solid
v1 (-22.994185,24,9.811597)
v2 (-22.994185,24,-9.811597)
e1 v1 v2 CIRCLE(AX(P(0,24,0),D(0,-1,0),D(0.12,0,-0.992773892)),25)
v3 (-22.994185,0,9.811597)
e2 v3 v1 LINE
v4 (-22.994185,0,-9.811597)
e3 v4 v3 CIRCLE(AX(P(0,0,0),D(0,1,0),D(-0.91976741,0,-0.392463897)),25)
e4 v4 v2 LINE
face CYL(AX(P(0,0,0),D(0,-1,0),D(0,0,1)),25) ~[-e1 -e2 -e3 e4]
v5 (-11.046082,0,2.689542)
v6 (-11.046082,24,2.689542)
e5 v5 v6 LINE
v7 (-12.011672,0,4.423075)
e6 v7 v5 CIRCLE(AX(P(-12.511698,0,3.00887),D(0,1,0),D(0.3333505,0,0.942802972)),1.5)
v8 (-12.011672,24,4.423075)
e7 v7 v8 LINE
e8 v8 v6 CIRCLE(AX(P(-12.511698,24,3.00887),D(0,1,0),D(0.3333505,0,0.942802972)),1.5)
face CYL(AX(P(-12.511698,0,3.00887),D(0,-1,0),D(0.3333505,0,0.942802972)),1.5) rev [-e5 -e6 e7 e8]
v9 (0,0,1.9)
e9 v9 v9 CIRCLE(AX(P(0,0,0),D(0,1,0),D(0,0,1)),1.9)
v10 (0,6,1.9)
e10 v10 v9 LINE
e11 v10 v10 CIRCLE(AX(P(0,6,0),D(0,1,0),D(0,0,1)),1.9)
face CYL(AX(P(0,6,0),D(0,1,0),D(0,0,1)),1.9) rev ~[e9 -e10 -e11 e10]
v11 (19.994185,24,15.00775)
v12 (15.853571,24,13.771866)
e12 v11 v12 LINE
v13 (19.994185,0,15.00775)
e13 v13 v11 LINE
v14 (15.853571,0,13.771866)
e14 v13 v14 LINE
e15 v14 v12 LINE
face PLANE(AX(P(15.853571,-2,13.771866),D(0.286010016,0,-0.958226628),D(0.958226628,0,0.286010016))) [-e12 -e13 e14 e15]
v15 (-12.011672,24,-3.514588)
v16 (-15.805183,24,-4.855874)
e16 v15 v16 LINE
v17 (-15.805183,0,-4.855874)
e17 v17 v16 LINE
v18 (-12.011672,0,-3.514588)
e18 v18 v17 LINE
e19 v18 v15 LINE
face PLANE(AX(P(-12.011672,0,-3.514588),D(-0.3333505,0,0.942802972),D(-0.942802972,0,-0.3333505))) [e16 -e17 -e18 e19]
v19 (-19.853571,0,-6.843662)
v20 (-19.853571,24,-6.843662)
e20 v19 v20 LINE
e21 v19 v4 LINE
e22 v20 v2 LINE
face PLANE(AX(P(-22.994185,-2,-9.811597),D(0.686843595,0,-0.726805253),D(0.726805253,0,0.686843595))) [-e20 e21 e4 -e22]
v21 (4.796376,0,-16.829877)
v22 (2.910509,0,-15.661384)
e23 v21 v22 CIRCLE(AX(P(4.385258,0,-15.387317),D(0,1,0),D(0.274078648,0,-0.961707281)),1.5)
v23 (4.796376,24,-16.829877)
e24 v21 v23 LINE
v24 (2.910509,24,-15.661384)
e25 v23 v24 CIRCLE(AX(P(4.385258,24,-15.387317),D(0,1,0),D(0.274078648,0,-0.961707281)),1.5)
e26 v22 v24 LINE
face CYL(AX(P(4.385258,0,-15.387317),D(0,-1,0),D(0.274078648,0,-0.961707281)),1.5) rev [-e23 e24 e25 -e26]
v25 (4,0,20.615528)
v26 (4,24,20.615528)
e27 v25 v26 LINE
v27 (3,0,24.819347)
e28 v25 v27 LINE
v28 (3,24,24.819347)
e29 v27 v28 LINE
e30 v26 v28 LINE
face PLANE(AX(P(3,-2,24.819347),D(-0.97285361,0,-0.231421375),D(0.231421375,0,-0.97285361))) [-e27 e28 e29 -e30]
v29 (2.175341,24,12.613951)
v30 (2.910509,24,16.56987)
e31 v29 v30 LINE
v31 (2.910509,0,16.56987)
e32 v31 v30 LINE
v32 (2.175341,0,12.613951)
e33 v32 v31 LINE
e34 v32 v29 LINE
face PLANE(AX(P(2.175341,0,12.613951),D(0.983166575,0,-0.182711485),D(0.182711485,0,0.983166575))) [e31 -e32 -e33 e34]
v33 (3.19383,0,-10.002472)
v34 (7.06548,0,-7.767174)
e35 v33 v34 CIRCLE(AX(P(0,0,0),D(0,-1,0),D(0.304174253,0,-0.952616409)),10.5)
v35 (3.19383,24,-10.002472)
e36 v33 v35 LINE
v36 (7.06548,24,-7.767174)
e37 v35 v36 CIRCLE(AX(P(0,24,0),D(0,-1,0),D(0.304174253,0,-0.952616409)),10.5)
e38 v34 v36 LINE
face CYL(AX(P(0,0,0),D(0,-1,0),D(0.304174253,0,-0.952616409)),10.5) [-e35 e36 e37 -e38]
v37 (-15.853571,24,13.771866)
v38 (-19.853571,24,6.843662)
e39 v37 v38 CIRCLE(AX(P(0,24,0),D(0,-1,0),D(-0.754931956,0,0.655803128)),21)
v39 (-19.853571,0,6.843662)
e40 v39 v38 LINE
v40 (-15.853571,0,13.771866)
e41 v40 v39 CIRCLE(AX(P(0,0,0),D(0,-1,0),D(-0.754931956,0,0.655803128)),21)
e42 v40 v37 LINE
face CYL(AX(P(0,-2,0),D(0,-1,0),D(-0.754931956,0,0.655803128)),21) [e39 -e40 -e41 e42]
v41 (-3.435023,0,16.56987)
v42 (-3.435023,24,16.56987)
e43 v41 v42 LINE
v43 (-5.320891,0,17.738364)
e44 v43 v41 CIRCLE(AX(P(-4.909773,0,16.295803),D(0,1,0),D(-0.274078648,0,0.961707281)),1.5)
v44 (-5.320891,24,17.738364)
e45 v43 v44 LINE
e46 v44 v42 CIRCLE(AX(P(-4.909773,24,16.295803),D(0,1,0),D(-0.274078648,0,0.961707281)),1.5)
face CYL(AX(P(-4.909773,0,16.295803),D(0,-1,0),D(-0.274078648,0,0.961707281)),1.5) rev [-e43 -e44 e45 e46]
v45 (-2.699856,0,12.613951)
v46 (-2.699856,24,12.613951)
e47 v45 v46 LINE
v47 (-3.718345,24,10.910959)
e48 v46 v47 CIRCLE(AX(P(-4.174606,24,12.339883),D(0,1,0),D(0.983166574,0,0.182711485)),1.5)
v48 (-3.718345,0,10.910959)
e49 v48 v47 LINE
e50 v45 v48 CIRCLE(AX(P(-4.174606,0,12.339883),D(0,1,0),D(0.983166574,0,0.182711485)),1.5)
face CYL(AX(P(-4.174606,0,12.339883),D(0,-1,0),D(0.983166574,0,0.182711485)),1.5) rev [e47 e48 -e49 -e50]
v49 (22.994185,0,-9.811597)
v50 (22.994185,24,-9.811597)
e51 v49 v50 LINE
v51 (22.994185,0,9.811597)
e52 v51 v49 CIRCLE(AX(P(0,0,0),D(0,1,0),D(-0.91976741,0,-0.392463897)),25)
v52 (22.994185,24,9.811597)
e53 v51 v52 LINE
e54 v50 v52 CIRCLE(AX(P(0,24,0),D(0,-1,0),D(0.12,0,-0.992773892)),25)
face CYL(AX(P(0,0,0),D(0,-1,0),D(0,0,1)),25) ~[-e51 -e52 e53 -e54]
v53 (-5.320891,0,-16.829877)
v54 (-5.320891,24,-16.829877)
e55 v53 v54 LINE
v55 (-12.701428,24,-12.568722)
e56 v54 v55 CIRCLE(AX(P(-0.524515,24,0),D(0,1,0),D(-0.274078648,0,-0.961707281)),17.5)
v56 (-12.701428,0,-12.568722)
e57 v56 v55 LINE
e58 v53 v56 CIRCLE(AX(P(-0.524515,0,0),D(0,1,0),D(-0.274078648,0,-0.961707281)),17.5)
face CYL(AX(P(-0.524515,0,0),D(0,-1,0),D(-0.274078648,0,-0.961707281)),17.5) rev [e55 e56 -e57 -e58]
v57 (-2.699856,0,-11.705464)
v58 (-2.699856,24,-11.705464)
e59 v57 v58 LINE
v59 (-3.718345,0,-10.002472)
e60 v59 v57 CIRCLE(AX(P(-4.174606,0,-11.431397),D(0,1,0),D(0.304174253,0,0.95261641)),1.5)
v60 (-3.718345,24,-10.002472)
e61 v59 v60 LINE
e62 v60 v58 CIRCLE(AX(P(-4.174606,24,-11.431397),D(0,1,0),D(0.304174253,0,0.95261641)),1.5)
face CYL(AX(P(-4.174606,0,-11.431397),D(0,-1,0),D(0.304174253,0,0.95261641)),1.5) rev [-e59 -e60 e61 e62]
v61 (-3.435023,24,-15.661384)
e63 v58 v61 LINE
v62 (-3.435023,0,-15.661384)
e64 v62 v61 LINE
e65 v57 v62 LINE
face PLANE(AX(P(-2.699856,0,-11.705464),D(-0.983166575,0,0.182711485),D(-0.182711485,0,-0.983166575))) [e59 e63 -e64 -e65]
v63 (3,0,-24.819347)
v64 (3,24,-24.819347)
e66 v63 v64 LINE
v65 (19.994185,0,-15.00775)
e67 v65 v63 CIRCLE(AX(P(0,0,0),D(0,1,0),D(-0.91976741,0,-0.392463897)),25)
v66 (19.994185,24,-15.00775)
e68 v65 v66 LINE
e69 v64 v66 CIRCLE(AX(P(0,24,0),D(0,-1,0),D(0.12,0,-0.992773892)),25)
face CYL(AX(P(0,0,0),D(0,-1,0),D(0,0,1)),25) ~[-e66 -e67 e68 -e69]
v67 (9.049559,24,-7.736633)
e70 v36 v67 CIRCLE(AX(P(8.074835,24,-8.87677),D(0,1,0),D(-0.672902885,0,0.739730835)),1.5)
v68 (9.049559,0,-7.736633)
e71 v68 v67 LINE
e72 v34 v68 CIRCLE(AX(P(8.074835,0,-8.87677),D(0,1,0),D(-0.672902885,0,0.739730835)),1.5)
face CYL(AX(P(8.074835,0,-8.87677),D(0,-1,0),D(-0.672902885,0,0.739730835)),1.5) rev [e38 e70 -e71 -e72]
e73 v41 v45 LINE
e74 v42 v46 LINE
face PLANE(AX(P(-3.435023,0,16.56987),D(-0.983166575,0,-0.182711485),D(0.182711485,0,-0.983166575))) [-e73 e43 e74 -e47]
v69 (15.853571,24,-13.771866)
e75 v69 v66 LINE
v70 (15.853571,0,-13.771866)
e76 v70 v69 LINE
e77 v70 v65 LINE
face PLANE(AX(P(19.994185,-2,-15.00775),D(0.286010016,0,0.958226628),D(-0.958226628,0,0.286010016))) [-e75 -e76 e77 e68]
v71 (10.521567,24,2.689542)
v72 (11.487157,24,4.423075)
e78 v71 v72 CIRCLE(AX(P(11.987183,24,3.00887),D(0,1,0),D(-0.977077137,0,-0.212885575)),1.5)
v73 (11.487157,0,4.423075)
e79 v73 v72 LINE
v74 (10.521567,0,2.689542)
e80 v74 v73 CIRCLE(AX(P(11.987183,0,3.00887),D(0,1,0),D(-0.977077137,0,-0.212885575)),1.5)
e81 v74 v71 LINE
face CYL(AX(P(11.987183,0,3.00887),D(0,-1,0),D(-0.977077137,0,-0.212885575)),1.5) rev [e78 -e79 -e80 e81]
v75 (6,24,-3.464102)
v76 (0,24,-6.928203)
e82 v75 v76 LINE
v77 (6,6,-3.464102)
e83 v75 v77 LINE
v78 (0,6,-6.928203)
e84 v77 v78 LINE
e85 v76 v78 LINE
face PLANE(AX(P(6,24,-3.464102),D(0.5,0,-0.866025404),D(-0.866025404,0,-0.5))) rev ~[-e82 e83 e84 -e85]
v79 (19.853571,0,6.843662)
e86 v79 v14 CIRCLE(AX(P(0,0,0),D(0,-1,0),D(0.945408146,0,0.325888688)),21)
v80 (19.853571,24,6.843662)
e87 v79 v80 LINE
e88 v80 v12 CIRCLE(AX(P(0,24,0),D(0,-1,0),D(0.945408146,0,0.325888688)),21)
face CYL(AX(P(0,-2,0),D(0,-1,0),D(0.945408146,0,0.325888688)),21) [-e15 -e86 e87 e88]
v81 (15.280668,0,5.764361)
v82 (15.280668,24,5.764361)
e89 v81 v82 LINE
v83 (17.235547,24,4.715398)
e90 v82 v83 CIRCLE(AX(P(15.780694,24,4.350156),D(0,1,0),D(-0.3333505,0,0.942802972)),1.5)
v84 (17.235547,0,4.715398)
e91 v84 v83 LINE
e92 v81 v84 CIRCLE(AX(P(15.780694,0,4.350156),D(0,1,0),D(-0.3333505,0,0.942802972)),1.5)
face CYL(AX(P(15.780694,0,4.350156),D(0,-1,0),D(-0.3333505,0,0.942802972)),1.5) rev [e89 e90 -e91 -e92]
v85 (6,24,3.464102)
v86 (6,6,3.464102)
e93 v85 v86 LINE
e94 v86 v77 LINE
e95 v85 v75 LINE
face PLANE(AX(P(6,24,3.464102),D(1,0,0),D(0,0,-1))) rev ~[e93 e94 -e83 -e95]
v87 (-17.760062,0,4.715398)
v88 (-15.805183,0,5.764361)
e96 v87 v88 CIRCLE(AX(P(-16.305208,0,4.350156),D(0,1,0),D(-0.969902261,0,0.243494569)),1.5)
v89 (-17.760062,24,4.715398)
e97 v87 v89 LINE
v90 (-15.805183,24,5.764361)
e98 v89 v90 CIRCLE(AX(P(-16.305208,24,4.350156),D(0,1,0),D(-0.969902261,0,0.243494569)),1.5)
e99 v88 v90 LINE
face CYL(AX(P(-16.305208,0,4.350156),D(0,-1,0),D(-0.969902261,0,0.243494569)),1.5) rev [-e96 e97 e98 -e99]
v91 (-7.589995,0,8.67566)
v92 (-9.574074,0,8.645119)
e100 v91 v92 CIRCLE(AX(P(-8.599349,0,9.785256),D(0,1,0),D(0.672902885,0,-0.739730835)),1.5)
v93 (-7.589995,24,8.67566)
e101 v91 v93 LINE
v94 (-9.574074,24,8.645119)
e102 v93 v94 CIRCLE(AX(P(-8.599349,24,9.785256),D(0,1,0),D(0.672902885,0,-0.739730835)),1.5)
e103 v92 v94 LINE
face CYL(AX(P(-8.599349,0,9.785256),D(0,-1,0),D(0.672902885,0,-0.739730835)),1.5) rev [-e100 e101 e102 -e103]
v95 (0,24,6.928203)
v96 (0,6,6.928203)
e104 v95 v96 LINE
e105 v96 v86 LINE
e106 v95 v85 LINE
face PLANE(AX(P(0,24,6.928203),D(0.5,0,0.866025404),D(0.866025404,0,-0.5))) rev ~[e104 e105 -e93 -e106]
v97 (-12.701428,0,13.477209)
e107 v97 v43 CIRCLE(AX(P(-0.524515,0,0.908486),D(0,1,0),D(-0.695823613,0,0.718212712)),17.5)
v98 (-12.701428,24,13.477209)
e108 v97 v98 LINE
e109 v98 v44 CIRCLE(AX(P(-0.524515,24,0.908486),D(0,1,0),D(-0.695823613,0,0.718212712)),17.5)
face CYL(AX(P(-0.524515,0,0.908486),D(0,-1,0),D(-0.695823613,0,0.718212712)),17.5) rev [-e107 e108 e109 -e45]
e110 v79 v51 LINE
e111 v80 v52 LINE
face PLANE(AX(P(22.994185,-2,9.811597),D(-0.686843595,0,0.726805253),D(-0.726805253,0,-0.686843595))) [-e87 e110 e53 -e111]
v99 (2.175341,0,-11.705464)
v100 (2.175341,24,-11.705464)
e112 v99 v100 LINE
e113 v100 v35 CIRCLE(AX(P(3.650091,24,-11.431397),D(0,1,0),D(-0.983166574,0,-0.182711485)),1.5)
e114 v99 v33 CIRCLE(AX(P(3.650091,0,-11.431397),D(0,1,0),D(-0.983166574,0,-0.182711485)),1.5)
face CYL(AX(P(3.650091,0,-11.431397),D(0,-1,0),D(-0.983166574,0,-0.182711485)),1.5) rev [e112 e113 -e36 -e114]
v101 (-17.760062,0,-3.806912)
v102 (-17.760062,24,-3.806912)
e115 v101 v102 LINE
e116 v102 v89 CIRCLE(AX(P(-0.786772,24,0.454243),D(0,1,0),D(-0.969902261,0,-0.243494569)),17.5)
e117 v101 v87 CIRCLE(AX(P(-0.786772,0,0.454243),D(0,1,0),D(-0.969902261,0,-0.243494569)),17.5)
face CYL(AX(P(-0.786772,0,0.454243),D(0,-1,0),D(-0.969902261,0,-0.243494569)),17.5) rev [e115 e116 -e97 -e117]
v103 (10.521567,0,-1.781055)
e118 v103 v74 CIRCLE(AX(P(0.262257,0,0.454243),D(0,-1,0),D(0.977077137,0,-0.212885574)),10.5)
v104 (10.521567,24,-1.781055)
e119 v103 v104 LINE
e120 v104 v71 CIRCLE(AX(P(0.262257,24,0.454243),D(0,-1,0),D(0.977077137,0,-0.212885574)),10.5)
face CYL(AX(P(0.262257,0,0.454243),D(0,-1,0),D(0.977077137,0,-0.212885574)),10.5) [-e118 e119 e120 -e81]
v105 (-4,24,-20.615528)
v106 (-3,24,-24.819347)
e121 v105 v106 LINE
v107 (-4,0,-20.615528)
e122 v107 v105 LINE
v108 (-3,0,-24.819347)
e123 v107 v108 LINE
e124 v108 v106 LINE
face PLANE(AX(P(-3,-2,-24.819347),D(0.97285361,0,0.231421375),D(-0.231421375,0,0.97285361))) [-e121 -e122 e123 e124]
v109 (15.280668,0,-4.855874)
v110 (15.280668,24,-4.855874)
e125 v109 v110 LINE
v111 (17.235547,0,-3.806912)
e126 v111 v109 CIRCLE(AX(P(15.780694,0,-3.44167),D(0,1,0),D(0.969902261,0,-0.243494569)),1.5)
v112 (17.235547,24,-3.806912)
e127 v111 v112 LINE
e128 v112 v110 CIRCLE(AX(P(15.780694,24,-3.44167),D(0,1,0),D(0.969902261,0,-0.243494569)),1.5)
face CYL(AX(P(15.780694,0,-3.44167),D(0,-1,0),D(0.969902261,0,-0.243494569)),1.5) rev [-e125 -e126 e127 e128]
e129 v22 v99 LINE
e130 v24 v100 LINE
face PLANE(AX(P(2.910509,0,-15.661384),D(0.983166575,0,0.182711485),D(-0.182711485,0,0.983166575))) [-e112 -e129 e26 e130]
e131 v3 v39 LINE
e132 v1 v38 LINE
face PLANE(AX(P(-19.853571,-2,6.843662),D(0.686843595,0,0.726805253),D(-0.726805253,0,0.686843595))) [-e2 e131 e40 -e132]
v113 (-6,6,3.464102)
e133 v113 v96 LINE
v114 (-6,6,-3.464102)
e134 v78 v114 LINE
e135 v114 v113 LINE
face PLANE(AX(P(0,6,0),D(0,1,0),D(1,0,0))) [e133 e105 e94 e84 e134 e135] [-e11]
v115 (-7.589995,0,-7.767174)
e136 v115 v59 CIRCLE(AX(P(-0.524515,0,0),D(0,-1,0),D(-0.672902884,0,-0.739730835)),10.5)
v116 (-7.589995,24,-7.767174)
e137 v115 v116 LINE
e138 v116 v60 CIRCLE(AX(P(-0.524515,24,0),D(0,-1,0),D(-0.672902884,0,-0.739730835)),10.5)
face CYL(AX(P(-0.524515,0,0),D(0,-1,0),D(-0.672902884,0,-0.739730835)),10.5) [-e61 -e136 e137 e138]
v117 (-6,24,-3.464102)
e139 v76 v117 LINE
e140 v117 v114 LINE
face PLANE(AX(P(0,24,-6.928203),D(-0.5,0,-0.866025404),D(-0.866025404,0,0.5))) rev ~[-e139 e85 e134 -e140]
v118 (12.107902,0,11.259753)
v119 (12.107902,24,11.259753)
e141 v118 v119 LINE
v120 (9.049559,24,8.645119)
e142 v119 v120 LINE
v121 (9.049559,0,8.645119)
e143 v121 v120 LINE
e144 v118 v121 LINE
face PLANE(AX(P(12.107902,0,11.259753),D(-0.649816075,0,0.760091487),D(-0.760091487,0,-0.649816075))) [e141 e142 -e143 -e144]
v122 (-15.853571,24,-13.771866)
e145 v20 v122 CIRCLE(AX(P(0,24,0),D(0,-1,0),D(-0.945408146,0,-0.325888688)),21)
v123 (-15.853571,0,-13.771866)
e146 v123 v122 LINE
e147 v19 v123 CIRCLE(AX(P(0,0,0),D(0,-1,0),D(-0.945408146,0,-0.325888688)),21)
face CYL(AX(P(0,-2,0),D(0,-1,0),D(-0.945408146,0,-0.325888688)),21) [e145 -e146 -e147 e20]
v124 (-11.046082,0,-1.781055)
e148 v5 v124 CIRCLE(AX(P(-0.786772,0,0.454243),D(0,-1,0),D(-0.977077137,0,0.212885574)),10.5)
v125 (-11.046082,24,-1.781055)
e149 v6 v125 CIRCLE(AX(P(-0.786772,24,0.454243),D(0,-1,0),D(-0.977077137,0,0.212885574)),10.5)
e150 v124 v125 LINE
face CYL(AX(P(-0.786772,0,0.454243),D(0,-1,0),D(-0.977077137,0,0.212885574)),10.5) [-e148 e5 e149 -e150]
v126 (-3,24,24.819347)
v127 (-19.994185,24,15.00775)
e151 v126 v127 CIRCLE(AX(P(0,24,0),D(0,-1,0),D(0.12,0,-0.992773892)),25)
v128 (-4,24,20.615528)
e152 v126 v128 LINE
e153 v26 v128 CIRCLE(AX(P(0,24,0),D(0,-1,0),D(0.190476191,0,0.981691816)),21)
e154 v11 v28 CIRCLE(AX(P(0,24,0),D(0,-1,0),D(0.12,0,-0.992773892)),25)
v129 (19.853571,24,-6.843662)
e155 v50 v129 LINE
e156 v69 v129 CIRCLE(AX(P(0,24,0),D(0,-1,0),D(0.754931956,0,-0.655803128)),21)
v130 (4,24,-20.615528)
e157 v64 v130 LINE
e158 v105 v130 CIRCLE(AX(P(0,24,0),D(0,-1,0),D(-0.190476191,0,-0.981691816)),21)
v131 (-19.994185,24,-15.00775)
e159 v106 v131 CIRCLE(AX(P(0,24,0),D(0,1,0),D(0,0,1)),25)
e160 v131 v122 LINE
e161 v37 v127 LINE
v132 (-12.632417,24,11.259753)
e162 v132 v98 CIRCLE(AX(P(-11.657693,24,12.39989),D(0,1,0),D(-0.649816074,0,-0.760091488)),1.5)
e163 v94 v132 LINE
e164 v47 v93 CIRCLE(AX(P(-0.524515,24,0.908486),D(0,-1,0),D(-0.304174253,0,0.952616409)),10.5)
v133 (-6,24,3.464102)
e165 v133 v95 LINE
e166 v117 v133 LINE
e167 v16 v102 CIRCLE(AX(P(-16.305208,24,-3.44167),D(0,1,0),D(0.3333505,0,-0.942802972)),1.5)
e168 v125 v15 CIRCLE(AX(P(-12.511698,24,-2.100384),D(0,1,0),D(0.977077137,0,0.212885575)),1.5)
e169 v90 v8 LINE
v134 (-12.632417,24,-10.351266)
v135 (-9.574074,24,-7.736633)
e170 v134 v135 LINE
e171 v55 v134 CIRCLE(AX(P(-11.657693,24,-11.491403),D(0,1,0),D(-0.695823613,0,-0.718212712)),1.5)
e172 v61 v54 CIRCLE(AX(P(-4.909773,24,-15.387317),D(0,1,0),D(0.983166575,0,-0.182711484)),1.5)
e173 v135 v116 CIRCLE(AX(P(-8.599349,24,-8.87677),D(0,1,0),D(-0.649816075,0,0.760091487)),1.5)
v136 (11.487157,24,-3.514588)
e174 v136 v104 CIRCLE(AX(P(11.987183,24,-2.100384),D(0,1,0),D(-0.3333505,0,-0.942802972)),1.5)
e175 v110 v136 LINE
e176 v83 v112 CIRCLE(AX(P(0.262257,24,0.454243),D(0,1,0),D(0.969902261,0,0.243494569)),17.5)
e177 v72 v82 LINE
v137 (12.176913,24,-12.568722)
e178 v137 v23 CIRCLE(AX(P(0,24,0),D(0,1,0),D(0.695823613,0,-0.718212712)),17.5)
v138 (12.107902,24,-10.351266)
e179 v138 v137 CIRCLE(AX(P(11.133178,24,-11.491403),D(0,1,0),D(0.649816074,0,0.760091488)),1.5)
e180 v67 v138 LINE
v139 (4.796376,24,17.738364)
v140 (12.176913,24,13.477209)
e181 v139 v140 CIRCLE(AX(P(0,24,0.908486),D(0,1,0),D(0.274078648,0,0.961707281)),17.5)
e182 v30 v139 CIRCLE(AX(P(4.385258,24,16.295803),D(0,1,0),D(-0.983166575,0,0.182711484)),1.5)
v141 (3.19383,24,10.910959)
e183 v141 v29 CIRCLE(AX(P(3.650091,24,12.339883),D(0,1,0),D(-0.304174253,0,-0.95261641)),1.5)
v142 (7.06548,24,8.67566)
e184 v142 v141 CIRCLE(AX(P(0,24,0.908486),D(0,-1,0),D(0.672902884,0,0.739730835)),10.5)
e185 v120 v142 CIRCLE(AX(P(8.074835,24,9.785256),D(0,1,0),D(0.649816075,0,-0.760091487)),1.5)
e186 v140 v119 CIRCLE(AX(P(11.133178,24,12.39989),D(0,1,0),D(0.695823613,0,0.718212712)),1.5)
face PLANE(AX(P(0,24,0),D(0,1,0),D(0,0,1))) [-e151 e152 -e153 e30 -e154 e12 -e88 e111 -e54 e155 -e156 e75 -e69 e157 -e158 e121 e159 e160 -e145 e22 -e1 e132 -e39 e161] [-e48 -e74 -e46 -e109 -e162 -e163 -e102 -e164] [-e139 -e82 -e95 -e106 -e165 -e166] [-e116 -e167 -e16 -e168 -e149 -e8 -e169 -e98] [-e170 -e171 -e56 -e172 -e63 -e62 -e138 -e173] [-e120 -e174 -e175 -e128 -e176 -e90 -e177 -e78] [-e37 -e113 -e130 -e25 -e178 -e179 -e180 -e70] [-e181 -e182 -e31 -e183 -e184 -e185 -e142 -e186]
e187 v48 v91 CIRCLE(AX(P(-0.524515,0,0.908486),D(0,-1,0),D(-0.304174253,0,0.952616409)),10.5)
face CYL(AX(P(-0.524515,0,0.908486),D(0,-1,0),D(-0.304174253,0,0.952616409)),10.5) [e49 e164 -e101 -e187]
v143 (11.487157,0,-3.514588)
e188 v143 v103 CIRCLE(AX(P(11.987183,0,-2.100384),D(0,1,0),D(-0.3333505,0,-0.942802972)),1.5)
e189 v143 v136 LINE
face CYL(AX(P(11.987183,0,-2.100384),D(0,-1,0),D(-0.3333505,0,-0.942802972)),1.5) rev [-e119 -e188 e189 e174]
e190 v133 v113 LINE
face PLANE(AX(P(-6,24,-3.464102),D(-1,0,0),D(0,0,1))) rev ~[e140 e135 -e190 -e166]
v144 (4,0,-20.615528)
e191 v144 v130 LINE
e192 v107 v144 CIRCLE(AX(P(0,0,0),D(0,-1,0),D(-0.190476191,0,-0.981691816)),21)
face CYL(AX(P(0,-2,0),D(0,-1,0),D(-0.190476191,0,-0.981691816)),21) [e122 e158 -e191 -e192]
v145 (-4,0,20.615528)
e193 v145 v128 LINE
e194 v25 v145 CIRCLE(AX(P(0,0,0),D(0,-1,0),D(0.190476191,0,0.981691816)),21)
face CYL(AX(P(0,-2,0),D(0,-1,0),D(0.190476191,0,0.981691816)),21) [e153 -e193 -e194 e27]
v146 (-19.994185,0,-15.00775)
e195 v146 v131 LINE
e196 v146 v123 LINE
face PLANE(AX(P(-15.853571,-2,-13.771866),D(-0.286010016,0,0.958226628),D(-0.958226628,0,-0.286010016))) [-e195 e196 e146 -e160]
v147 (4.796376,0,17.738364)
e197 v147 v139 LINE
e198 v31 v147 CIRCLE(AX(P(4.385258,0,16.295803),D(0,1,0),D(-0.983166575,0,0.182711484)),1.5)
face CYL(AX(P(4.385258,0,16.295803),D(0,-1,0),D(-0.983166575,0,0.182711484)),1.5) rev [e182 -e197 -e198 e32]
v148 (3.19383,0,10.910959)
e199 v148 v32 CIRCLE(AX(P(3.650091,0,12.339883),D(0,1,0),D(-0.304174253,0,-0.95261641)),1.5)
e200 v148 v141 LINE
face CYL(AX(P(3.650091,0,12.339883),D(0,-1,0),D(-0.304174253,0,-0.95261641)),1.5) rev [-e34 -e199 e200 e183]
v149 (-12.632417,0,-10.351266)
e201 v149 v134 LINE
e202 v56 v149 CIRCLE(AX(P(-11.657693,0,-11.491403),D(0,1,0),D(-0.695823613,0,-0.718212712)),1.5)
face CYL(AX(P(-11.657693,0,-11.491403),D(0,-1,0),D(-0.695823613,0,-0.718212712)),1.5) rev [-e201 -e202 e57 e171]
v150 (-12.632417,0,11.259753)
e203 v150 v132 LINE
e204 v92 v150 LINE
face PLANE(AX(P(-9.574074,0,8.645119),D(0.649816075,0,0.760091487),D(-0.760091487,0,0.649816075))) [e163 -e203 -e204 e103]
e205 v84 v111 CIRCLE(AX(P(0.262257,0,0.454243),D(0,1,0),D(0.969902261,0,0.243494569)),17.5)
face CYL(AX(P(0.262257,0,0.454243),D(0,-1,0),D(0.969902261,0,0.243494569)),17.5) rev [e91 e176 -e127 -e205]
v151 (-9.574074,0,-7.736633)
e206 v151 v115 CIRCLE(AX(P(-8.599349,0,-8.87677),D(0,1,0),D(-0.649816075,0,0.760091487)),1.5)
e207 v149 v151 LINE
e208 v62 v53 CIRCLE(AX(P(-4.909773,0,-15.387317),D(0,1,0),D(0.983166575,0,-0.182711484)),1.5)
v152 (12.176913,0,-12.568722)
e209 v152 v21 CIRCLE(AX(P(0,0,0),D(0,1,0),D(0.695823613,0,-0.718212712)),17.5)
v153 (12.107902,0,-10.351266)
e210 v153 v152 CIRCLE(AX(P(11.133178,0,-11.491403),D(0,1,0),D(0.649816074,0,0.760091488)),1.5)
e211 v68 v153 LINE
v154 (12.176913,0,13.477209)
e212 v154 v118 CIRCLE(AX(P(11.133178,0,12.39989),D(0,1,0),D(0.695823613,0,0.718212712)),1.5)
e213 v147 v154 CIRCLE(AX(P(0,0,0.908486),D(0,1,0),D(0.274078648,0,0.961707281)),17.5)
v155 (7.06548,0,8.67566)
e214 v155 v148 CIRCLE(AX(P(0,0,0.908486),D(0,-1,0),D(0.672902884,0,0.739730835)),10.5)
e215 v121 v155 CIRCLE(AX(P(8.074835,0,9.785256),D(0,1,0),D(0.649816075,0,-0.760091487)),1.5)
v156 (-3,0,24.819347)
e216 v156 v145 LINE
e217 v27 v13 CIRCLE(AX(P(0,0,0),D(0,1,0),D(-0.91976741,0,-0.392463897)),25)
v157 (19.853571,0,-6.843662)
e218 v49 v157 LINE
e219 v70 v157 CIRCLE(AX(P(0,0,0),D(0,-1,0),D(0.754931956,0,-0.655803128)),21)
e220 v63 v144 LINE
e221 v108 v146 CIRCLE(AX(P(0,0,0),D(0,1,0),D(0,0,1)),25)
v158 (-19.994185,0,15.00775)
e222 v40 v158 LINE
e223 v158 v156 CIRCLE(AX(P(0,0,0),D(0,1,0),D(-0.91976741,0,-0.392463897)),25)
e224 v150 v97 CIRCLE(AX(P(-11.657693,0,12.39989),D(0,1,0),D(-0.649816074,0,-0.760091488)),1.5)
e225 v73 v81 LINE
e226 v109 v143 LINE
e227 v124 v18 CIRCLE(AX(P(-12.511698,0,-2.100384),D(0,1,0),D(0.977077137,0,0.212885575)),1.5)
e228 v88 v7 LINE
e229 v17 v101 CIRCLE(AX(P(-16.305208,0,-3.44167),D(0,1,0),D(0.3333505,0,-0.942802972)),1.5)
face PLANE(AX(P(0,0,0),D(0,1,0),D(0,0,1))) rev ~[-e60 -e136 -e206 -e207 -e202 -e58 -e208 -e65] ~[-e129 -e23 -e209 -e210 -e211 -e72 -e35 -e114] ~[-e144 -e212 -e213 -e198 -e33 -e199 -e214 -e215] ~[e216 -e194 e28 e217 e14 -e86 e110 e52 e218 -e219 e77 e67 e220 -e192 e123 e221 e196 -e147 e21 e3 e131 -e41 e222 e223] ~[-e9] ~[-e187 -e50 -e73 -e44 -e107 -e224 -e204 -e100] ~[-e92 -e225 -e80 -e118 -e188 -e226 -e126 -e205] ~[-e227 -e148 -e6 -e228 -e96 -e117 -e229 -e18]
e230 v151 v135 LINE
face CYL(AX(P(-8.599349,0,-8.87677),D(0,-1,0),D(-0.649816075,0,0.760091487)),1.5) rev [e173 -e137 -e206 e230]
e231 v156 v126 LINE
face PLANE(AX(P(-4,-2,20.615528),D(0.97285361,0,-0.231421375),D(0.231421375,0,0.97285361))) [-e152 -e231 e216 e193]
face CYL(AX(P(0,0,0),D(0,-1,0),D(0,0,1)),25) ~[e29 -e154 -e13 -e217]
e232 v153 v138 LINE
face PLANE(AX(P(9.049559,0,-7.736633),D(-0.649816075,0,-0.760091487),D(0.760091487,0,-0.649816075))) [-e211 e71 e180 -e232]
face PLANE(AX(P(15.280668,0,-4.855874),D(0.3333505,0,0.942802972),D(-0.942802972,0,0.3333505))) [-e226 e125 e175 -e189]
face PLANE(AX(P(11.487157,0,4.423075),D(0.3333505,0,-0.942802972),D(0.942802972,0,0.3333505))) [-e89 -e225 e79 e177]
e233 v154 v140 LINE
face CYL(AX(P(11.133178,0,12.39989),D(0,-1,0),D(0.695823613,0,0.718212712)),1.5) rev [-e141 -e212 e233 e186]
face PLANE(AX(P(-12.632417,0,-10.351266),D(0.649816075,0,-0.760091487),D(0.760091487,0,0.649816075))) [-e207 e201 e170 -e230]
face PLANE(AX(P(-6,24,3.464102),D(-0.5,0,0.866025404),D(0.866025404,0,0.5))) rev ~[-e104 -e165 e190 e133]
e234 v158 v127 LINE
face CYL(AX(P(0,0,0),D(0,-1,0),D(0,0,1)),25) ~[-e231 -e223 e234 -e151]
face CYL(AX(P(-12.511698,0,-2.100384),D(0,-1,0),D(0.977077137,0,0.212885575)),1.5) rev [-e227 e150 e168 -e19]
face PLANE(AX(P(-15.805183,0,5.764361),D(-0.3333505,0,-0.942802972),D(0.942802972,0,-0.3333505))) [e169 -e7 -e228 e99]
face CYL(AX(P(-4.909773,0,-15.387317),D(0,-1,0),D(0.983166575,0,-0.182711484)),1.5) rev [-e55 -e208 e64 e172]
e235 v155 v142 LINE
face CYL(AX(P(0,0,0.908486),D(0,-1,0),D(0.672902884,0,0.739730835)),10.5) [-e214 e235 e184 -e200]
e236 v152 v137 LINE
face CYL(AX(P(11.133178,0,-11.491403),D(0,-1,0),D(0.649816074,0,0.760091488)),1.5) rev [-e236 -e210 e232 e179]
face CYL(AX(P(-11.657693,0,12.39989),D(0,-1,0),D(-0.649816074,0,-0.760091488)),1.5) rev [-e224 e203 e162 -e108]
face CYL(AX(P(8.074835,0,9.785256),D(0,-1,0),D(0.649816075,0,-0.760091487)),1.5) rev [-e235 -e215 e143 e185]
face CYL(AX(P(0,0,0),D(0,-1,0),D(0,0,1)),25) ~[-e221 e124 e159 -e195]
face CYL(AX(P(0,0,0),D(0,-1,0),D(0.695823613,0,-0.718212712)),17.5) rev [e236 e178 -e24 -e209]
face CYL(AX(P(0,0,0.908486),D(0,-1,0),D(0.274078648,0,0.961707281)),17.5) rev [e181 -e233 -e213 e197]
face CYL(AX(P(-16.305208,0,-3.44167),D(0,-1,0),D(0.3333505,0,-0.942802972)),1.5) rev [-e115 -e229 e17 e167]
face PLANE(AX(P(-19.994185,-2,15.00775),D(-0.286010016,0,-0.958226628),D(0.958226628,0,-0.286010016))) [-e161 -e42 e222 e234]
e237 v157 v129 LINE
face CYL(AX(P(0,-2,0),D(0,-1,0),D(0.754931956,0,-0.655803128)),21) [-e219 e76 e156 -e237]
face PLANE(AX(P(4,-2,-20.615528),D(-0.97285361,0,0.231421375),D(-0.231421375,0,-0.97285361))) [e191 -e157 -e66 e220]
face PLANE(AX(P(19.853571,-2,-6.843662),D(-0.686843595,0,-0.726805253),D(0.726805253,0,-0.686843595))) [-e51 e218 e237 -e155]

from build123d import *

# Parameters (mm, degrees)
SKETCH1_R           = 25
BOSS_EXTRUDE1_DEPTH = 24
CUT_EXTRUDE3_START  = -2
CUT_EXTRUDE3_DEPTH  = 45.731721238
CIRPATTERN1_COUNT   = 6
CUT_EXTRUDE4_DEPTH  = 24
CIRPATTERN5_COUNT   = 6
CUT_EXTRUDE5_DEPTH  = 18
SKETCH6_R           = 1.9
CUT_EXTRUDE6_DEPTH  = 18


with BuildPart() as part:
    # Sketch1 → Boss-Extrude1 (new body)
    with BuildSketch(Plane(origin=(0, 0, 0), x_dir=(1, 0, 0), z_dir=(0, 1, 0))):
        with Locations(Location((0, 0, 0), (0, 0, 270))):
            Circle(SKETCH1_R)
    extrude(amount=BOSS_EXTRUDE1_DEPTH)

    # Sketch2 → Cut-Extrude3 (cut)
    with BuildSketch(Plane(origin=(0, 0, 0), x_dir=(1, 0, 0), z_dir=(0, 1, 0)).offset(CUT_EXTRUDE3_START)):
        with BuildLine():
            Line((-3, 24.819347292), (-4, 20.615528128))
            ThreePointArc((-4, 20.615528128), (0, 21), (4, 20.615528128))
            Line((4, 20.615528128), (3, 24.819347292))
            ThreePointArc((3, 24.819347292), (0, 25), (-3, 24.819347292))
        make_face()
    cut_extrude3 = extrude(amount=CUT_EXTRUDE3_DEPTH, mode=Mode.SUBTRACT)

    # CirPattern1: Cut-Extrude3 ×6 about axis
    cirpattern1_axis = Axis((0, 0, 0), (0, 1, 0))
    for i in range(1, CIRPATTERN1_COUNT):
        add(cut_extrude3.rotate(cirpattern1_axis, i * 360 / CIRPATTERN1_COUNT), mode=Mode.SUBTRACT)

    # Sketch3 → Cut-Extrude4 (cut)
    with BuildSketch(Plane(origin=(0, 0, 0), x_dir=(1, 0, 0), z_dir=(0, 1, 0))):
        with BuildLine():
            ThreePointArc((7.065480282, 7.767173771), (8.051747799, 7.376947701), (9.04955872, 7.736632793))
            Line((9.04955872, 7.736632793), (12.107901914, 10.351266166))
            ThreePointArc((12.107901914, 10.351266166), (12.632451903, 11.444743237), (12.176913221, 12.568722465))
            ThreePointArc((12.176913221, 12.568722465), (8.75, 15.155444566), (4.796376338, 16.829877422))
            ThreePointArc((4.796376338, 16.829877422), (3.595212432, 16.662395879), (2.910508504, 15.661383727))
            Line((2.910508504, 15.661383727), (2.175341178, 11.705464141))
            ThreePointArc((2.175341178, 11.705464141), (2.362750212, 10.661491989), (3.19382966, 10.0024723))
            ThreePointArc((3.19382966, 10.0024723), (5.25, 9.09326674), (7.065480282, 7.767173771))
        make_face()
    cut_extrude4 = extrude(amount=CUT_EXTRUDE4_DEPTH, mode=Mode.SUBTRACT)

    # CirPattern5: Cut-Extrude4 ×6 about axis
    cirpattern5_axis = Axis((-0.262257429, 0, 0.454243191), (0, 1, 0))
    for i in range(1, CIRPATTERN5_COUNT):
        add(cut_extrude4.rotate(cirpattern5_axis, i * 360 / CIRPATTERN5_COUNT), mode=Mode.SUBTRACT)

    # Sketch5 → Cut-Extrude5 (cut)
    with BuildSketch(Plane(origin=(0, 24, 0), x_dir=(1, 0, 0), z_dir=(0, 1, 0))):
        Polygon((0, 6.92820323), (-6, 3.464101615), (-6, -3.464101615), (0, -6.92820323), (6, -3.464101615), (6, 3.464101615), align=None)
    extrude(amount=-CUT_EXTRUDE5_DEPTH, mode=Mode.SUBTRACT)

    # Sketch6 → Cut-Extrude6 (cut)
    with BuildSketch(Plane(origin=(0, 6, 0), x_dir=(1, 0, 0), z_dir=(0, 1, 0))):
        with Locations(Location((0, 0, 0), (0, 0, 270))):
            Circle(SKETCH6_R)
    extrude(amount=-CUT_EXTRUDE6_DEPTH, mode=Mode.SUBTRACT)


solid = part.part
